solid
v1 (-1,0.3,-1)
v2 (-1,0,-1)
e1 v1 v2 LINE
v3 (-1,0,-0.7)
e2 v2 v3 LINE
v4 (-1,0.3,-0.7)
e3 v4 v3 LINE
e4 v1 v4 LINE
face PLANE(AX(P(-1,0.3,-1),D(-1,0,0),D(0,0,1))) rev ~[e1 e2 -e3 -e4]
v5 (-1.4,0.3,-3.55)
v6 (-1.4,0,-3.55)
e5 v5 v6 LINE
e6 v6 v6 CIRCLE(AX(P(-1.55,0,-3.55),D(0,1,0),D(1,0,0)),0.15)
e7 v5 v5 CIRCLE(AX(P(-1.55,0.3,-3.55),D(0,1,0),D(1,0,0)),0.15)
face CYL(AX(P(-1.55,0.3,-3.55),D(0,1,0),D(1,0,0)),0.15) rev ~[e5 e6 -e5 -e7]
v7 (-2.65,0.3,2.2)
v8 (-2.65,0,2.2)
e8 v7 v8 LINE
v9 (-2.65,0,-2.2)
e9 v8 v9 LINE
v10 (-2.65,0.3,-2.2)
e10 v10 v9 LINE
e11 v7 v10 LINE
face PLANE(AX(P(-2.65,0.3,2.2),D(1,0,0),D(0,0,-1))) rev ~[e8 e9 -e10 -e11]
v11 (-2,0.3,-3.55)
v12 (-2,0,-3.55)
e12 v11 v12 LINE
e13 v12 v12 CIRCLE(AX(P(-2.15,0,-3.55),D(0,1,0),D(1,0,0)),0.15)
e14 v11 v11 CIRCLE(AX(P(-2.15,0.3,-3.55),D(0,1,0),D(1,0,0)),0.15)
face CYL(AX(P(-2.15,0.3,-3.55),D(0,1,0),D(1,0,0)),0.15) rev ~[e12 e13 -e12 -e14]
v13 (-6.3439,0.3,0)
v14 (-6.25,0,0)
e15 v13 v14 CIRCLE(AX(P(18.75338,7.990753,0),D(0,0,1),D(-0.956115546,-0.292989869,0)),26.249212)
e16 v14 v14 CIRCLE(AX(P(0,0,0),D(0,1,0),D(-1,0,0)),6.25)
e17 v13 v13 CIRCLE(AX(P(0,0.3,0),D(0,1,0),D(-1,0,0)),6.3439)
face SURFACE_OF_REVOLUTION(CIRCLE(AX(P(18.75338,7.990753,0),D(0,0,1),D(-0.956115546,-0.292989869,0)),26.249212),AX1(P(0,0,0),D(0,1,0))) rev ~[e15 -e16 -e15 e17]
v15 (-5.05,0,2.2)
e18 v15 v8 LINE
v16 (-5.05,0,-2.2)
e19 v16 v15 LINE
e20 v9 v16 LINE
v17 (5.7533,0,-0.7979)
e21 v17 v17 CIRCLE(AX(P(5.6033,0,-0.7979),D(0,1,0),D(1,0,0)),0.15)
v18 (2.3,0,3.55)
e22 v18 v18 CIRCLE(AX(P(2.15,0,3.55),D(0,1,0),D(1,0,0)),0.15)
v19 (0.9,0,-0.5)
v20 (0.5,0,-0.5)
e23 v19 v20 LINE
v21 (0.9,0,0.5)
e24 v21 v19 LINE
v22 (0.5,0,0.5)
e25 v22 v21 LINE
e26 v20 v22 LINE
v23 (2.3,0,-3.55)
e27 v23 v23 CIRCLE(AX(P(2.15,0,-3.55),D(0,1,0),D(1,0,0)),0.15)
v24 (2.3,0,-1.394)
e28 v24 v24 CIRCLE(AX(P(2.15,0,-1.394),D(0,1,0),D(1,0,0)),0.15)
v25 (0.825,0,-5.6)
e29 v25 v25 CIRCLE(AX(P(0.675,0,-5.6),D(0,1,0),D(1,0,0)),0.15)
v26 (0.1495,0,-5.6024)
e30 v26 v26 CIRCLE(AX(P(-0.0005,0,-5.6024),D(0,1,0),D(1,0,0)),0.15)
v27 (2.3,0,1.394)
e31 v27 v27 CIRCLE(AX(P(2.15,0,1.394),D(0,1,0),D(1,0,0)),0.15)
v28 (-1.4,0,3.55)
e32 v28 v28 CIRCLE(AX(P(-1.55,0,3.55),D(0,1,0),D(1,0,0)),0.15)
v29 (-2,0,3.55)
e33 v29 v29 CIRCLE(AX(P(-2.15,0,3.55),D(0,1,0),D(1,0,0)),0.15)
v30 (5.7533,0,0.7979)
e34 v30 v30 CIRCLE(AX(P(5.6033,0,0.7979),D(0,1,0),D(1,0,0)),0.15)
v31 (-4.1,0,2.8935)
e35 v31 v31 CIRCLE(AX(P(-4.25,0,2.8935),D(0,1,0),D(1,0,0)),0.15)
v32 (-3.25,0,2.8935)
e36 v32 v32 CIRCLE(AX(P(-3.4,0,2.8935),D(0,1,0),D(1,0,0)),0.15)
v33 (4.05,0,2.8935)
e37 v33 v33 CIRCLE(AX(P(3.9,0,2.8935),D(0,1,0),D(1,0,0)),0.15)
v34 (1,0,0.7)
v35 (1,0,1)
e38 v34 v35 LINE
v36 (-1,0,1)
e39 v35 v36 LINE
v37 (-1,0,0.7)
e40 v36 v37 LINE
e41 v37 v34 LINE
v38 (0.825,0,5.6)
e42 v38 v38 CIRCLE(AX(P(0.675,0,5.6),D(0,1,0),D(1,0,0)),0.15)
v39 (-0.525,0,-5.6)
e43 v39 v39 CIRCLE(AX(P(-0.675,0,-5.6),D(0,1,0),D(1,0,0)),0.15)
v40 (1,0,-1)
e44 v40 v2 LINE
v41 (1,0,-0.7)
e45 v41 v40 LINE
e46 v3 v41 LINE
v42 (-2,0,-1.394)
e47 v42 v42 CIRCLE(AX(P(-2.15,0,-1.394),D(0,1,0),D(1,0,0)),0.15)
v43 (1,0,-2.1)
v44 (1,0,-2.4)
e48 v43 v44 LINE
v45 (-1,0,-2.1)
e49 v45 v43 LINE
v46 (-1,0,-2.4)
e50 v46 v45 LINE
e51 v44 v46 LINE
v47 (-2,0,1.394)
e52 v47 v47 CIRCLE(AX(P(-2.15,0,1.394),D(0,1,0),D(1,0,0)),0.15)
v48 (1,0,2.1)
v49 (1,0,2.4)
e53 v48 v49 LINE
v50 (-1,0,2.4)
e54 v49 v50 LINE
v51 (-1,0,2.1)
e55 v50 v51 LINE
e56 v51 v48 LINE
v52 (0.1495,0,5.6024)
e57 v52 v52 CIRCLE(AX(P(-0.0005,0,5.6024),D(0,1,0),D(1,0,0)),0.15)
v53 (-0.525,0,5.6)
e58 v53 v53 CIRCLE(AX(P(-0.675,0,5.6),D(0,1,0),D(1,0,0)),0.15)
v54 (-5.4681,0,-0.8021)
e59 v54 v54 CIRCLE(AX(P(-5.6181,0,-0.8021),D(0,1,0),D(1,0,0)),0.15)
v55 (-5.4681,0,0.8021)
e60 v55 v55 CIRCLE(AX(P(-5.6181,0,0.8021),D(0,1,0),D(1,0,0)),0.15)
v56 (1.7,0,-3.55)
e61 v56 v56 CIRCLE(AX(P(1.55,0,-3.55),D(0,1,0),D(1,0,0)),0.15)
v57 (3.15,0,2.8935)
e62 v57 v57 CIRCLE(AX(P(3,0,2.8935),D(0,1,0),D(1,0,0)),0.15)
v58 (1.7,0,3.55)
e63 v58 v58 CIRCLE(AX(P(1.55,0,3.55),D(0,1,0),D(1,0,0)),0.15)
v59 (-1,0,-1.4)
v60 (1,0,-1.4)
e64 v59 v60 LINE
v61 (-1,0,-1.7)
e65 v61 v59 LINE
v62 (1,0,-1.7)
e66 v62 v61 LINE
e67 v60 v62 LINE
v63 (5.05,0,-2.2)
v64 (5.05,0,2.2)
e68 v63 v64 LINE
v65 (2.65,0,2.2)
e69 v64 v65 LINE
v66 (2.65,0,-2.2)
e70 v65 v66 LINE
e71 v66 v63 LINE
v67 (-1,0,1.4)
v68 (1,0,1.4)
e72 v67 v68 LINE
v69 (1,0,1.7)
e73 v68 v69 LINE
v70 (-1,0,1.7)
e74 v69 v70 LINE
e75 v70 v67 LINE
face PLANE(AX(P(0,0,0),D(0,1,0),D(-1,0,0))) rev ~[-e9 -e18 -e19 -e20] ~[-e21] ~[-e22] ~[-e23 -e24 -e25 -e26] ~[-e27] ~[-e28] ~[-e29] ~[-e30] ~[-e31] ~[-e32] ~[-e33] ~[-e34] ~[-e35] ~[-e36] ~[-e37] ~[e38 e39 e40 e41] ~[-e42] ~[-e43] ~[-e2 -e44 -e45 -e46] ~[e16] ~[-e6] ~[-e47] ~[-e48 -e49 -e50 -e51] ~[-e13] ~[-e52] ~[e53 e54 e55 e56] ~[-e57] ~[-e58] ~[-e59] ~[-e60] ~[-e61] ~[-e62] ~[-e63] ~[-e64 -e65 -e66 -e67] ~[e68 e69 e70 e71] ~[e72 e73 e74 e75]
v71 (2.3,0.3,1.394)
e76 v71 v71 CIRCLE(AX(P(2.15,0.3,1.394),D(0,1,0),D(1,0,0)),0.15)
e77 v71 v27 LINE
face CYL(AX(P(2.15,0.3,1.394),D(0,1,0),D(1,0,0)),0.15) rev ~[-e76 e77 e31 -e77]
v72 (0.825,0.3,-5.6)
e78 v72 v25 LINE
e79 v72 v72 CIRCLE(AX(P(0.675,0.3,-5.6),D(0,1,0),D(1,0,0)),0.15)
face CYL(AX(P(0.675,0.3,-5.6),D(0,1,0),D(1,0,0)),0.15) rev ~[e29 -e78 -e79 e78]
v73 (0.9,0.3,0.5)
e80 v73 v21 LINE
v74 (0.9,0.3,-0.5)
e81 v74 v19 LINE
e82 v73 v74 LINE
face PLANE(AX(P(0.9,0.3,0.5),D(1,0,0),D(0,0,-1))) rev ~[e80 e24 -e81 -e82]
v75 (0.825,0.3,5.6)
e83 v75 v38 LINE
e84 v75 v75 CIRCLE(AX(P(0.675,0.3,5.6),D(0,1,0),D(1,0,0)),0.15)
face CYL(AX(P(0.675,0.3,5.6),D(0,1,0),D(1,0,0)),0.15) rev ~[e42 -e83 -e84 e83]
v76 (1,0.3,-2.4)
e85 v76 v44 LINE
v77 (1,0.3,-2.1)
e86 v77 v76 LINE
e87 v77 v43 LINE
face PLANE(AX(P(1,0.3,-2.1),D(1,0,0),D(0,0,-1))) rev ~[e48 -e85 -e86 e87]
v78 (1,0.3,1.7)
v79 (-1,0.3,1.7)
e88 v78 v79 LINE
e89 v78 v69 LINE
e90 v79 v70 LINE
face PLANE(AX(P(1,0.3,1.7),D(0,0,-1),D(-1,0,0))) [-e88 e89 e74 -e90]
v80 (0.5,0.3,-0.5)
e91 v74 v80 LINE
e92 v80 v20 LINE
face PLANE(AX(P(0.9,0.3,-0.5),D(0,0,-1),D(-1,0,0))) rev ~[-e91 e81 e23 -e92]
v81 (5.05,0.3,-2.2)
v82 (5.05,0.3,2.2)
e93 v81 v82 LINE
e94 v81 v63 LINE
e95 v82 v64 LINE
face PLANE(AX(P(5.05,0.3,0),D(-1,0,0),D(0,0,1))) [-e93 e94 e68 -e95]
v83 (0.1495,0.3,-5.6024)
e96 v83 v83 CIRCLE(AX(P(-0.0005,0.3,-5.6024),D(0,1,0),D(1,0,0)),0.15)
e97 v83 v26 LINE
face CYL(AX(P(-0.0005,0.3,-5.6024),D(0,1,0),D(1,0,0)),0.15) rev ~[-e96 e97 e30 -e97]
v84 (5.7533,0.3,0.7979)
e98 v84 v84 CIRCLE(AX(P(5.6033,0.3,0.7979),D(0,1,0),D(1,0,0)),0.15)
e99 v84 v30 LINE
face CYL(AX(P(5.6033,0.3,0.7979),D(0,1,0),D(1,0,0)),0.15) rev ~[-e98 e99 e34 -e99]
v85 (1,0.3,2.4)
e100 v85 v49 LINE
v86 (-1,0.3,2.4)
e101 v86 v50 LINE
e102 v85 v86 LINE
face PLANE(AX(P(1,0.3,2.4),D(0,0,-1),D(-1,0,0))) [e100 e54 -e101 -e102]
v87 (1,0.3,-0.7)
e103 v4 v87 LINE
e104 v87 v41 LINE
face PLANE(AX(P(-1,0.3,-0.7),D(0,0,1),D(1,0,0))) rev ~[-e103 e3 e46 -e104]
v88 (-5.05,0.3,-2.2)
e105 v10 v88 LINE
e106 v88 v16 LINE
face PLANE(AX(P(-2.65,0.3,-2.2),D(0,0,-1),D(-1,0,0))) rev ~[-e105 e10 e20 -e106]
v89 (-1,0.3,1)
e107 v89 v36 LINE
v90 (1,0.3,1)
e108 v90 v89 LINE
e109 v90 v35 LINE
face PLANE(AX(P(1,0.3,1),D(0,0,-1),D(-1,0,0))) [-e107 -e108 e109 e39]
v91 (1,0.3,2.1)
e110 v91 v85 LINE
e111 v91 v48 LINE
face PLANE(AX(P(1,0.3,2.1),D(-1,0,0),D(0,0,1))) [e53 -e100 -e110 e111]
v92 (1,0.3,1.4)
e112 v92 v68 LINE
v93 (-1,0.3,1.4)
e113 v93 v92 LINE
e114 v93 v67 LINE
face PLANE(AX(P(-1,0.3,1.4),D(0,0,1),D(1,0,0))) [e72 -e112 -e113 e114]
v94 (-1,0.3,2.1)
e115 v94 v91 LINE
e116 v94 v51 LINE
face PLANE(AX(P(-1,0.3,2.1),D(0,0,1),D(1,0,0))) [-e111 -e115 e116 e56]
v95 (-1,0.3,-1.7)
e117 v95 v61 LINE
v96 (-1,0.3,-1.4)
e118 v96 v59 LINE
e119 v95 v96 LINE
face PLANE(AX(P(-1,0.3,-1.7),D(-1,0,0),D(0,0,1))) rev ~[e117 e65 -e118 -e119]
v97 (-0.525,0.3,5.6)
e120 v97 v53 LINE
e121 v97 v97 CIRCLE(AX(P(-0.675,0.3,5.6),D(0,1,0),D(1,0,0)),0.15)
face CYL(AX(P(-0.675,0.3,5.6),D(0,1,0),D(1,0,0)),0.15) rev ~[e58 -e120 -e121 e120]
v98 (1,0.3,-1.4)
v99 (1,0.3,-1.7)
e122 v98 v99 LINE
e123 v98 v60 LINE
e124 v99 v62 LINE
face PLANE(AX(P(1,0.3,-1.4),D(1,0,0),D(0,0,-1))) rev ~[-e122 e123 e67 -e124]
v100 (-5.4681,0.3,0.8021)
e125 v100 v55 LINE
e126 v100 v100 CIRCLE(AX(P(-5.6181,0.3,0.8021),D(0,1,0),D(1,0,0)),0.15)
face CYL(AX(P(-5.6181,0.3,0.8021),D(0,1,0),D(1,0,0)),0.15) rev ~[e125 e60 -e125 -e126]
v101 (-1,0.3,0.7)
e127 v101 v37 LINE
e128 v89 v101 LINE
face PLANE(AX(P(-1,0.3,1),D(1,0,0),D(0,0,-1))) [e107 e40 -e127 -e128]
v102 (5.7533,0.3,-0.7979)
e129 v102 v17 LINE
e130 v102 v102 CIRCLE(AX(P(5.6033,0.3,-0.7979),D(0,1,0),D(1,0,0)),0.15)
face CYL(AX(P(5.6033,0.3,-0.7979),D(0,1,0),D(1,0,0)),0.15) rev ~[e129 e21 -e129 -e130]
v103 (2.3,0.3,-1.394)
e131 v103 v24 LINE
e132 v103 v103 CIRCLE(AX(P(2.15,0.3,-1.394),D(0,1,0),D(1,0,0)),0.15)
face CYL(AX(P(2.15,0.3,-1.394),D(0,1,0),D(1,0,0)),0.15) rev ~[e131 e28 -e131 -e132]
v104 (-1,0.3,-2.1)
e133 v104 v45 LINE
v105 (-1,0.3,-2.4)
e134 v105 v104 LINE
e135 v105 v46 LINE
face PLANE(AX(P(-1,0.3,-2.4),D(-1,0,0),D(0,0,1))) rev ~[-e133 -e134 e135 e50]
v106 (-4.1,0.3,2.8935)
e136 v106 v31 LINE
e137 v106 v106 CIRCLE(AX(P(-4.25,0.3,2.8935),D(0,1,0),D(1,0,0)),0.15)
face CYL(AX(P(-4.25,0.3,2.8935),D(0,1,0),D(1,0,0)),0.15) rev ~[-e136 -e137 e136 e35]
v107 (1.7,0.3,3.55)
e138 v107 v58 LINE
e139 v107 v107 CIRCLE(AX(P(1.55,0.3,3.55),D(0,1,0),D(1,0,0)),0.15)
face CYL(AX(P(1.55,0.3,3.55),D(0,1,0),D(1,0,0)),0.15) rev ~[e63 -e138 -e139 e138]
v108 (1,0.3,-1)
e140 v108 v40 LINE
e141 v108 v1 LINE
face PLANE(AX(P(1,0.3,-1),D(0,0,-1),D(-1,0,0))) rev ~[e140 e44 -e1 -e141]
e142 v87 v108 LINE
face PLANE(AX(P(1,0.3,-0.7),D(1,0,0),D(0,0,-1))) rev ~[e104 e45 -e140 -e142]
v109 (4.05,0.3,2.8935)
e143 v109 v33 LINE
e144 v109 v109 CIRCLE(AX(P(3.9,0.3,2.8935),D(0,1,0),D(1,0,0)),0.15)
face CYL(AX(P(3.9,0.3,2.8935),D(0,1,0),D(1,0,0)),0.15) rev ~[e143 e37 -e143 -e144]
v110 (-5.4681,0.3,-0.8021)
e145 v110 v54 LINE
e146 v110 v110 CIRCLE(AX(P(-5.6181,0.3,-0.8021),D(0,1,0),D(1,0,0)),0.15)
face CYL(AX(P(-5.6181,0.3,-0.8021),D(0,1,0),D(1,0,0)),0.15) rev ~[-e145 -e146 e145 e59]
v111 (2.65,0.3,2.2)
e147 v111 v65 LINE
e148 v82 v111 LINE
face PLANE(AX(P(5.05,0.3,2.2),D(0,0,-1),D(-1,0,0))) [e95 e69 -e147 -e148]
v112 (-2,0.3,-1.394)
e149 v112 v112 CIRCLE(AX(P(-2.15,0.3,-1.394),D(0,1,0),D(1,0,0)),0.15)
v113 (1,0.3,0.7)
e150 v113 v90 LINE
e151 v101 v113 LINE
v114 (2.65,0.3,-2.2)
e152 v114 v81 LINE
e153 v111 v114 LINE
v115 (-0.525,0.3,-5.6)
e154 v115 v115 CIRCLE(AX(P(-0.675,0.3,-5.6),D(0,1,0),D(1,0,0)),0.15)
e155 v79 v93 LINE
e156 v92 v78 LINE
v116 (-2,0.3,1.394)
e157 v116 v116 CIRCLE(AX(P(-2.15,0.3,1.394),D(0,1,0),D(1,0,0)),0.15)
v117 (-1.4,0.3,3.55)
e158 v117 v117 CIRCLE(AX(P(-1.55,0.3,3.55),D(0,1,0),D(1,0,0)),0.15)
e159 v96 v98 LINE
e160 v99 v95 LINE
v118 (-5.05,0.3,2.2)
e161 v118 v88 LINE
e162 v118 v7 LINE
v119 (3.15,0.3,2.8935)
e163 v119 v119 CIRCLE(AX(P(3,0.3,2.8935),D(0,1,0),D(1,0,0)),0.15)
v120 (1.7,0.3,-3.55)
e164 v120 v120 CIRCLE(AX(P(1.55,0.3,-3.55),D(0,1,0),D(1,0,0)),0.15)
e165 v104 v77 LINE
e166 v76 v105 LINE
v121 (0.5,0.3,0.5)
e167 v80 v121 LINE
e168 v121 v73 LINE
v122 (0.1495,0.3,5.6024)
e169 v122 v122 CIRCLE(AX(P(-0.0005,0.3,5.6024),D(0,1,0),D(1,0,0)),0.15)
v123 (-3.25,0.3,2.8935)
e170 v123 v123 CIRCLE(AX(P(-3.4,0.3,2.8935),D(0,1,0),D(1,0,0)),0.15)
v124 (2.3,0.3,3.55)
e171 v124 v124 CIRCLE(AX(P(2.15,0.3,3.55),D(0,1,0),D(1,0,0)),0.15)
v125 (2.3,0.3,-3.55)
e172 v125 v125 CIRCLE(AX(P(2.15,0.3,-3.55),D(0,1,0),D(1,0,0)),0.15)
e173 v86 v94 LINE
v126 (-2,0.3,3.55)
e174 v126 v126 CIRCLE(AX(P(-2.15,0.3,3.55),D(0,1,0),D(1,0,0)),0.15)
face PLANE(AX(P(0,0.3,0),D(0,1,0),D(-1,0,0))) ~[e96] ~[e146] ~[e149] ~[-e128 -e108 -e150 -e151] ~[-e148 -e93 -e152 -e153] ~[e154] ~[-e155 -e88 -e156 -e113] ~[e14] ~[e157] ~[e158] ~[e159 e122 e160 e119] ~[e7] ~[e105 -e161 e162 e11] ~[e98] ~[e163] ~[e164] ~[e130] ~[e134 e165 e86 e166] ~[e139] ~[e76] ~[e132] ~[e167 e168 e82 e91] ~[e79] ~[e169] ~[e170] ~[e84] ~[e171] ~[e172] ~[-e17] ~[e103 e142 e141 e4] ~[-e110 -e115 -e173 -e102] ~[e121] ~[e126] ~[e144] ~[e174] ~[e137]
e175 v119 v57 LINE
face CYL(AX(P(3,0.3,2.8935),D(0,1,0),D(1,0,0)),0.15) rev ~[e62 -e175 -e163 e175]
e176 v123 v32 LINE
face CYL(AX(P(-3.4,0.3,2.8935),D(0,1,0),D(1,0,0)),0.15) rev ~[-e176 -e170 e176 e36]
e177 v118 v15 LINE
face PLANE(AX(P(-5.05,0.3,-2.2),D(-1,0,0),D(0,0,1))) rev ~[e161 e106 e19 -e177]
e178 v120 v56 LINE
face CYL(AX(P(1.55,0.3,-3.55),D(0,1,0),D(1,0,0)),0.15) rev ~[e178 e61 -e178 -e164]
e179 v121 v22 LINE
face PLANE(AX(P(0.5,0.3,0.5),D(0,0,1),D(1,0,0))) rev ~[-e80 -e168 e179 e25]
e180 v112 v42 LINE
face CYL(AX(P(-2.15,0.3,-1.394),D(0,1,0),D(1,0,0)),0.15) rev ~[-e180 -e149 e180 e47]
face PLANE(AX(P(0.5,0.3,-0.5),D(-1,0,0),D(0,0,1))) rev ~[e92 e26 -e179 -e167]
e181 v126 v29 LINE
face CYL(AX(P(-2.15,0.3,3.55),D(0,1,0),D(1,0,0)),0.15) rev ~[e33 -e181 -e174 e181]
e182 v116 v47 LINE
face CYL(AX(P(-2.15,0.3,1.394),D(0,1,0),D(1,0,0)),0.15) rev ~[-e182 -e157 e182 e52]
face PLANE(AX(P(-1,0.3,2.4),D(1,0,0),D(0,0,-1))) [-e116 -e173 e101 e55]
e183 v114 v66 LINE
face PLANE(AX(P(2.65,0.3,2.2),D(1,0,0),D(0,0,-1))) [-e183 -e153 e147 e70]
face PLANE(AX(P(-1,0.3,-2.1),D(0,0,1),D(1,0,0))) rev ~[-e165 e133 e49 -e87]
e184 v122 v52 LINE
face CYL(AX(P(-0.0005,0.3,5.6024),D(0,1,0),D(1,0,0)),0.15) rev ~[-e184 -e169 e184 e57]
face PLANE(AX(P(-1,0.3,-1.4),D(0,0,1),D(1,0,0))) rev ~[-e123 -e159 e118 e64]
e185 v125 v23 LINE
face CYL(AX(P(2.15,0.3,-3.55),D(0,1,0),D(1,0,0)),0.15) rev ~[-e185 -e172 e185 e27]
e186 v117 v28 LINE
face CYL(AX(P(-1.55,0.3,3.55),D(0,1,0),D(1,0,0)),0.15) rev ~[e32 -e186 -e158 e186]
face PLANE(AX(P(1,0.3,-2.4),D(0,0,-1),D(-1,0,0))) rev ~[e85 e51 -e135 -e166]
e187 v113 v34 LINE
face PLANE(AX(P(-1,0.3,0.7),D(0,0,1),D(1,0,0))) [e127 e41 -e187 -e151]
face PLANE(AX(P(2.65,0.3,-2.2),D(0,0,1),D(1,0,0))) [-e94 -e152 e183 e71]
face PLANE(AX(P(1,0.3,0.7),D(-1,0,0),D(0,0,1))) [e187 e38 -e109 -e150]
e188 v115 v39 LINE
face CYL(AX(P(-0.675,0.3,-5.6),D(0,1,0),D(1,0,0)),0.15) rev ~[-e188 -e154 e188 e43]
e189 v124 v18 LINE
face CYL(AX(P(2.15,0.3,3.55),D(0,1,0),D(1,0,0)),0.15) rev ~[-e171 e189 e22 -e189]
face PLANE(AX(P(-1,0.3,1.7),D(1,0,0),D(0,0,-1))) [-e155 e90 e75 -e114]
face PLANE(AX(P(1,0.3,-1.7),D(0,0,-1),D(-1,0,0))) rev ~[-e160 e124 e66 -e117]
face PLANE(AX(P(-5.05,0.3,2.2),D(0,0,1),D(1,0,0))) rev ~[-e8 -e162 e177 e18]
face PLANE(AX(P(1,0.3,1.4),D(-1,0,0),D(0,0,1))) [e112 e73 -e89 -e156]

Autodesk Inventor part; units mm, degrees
ref_plane "YZ Plane" through (0, 0, 0) normal (1, 0, 0) x (0, 1, 0)
ref_plane "XZ Plane" through (0, 0, 0) normal (0, 1, 0) x (-1, 0, 0)
ref_plane "XY Plane" through (0, 0, 0) normal (0, 0, 1) x (1, 0, 0)
sketch "Boceto1" plane through (0, 0, 0) normal (0, 0, 1) x (1, 0, 0)
  arc A0 (-6.3439, 0.3) -> (-6.25, 0) centre (18.1956, 7.818) ccw
  line L0 (-6.25, 0) -> (0, 0)
  line L1 (0, 0) -> (0, 0.3)
  line L2 (0, 0.3) -> (-6.3439, 0.3)
revolve "Revolución1" add sketch "Boceto1" angle 360 about axis through (0, 0, 0) along (0, 1, 0)
sketch "Boceto2" plane through (0, 0.3, 0) normal (0, 1, 0) x (1, 0, 0)
  circle A0 centre (-0.0005, 5.6024) radius 0.15
  circle A1 centre (-5.6181, 0.8021) radius 0.15
  circle A2 centre (5.6033, 0.7979) radius 0.15
  circle A3 centre (0, 0) radius 6.25 projected
  circle A4 centre (-0.0005, -5.6024) radius 0.15
  circle A5 centre (-5.6181, -0.8021) radius 0.15
  circle A6 centre (5.6033, -0.7979) radius 0.15
  point P0 (-0.8, 0.7979)
extrude "Extrusión1" cut sketch "Boceto2" against normal blind 10 contours A0 | A1 | A2 | A4 | A5 | A6
sketch "Boceto5" plane through (0, 0.3, 0) normal (0, 1, 0) x (1, 0, 0)
  circle A0 centre (0, 0) radius 6.25
  line L0 (-5.05, 0) -> (-5.05, -2.2)
  line L1 (-5.05, -2.2) -> (-2.65, -2.2)
  line L2 (-2.65, -2.2) -> (-2.65, 2.2)
  line L3 (-2.65, 2.2) -> (-5.05, 2.2)
  line L4 (-5.05, 2.2) -> (-5.05, 0)
  line L5 (5.05, 0) -> (5.05, -2.2)
  line L6 (5.05, -2.2) -> (2.65, -2.2)
  line L7 (2.65, -2.2) -> (2.65, 2.2)
  line L8 (2.65, 2.2) -> (5.05, 2.2)
  line L9 (5.05, 2.2) -> (5.05, 0)
  circle A1 centre (-5.618, 0.796) radius 0.15
  circle A2 centre (-5.618, -0.796) radius 0.15
  circle A3 centre (5.618, 0.796) radius 0.15
  circle A4 centre (5.618, -0.796) radius 0.15
  circle A5 centre (-2.15, -1.394) radius 0.15
  circle A6 centre (-2.15, 1.394) radius 0.15
  circle A7 centre (2.15, -1.394) radius 0.15
  circle A8 centre (2.15, 1.394) radius 0.15
  circle A9 centre (0, -5.6) radius 0.15
  circle A10 centre (0, 5.6) radius 0.15
  line L10 (1, -0.7) -> (1, -1)
  line L11 (1, -1) -> (-1, -1)
  line L12 (-1, -1) -> (-1, -0.7)
  line L13 (-1, -0.7) -> (1, -0.7)
  line L14 (1, -1.4) -> (1, -1.7)
  line L15 (1, -1.7) -> (-1, -1.7)
  line L16 (-1, -1.7) -> (-1, -1.4)
  line L17 (-1, -1.4) -> (1, -1.4)
  line L18 (1, -2.1) -> (1, -2.4)
  line L19 (1, -2.4) -> (-1, -2.4)
  line L20 (-1, -2.4) -> (-1, -2.1)
  line L21 (-1, -2.1) -> (1, -2.1)
  line L22 (-1, 1) -> (-1, 0.7)
  line L23 (-1, 0.7) -> (1, 0.7)
  line L24 (1, 0.7) -> (1, 1)
  line L25 (1, 1) -> (-1, 1)
  line L26 (-1, 1.7) -> (-1, 1.4)
  line L27 (-1, 1.4) -> (1, 1.4)
  line L28 (1, 1.4) -> (1, 1.7)
  line L29 (1, 1.7) -> (-1, 1.7)
  line L30 (-1, 2.4) -> (-1, 2.1)
  line L31 (-1, 2.1) -> (1, 2.1)
  line L32 (1, 2.1) -> (1, 2.4)
  line L33 (1, 2.4) -> (-1, 2.4)
  circle A11 centre (-2.15, 3.55) radius 0.15
  circle A12 centre (-1.55, 3.55) radius 0.15
  circle A13 centre (2.15, 3.55) radius 0.15
  circle A14 centre (1.55, 3.55) radius 0.15
  circle A15 centre (-2.15, -3.55) radius 0.15
  circle A16 centre (-1.55, -3.55) radius 0.15
  circle A17 centre (2.15, -3.55) radius 0.15
  circle A18 centre (1.55, -3.55) radius 0.15
  line L34 (0.6, 0.4) -> (0.6, -0.4)
  line L35 (0.6, -0.4) -> (0.7, -0.4)
  line L36 (0.7, -0.4) -> (0.8, -0.3)
  line L37 (0.8, -0.3) -> (0.8, 0.3)
  line L38 (0.8, 0.3) -> (0.7, 0.4)
  line L39 (0.7, 0.4) -> (0.6, 0.4)
  line L40 (0.5, 0) -> (0.5, -0.5)
  line L41 (0.5, -0.5) -> (0.9, -0.5)
  line L42 (0.9, -0.5) -> (0.9, 0.5)
  line L43 (0.9, 0.5) -> (0.5, 0.5)
  line L44 (0.5, 0.5) -> (0.5, 0)
extrude "Extrusión4" cut sketch "Boceto5" against normal blind 10 contours L4 L3 L2 L1 L0 | L5 L6 L7 L8 L9 | A5 | A6 | A7 | A8 | L10 L11 L12 L13 | L14 L15 L16 L17 | L18 L19 L20 L21 | L25 L24 L23 L22 | L29 L28 L27 L26 | L33 L32 L31 L30 | A11 | A12 | A13 | A14 | A15 | A16 | A17 | A18 | L39 L38 L37 L36 L35 L34 | L44 L43 L42 L41 L40
sketch "Boceto8" plane through (0, 0.3, 0) normal (0, 1, 0) x (1, 0, 0)
  circle A0 centre (0, 0) radius 6.25
  line L0 (-5.05, 0) -> (-5.05, -2.2)
  line L1 (-5.05, -2.2) -> (-2.65, -2.2)
  line L2 (-2.65, -2.2) -> (-2.65, 2.2)
  line L3 (-2.65, 2.2) -> (-5.05, 2.2)
  line L4 (-5.05, 2.2) -> (-5.05, 0)
  line L5 (5.05, 0) -> (5.05, -2.2)
  line L6 (5.05, -2.2) -> (2.65, -2.2)
  line L7 (2.65, -2.2) -> (2.65, 2.2)
  line L8 (2.65, 2.2) -> (5.05, 2.2)
  line L9 (5.05, 2.2) -> (5.05, 0)
  circle A1 centre (-5.618, 0.796) radius 0.15
  circle A2 centre (-5.618, -0.796) radius 0.15
  circle A3 centre (5.618, 0.796) radius 0.15
  circle A4 centre (5.618, -0.796) radius 0.15
  circle A5 centre (-2.15, -1.394) radius 0.15
  circle A6 centre (-2.15, 1.394) radius 0.15
  circle A7 centre (2.15, -1.394) radius 0.15
  circle A8 centre (2.15, 1.394) radius 0.15
  circle A9 centre (0, -5.6) radius 0.15
  circle A10 centre (0, 5.6) radius 0.15
  line L10 (1, -0.7) -> (1, -1)
  line L11 (1, -1) -> (-1, -1)
  line L12 (-1, -1) -> (-1, -0.7)
  line L13 (-1, -0.7) -> (1, -0.7)
  line L14 (1, -1.4) -> (1, -1.7)
  line L15 (1, -1.7) -> (-1, -1.7)
  line L16 (-1, -1.7) -> (-1, -1.4)
  line L17 (-1, -1.4) -> (1, -1.4)
  line L18 (1, -2.1) -> (1, -2.4)
  line L19 (1, -2.4) -> (-1, -2.4)
  line L20 (-1, -2.4) -> (-1, -2.1)
  line L21 (-1, -2.1) -> (1, -2.1)
  line L22 (-1, 1) -> (-1, 0.7)
  line L23 (-1, 0.7) -> (1, 0.7)
  line L24 (1, 0.7) -> (1, 1)
  line L25 (1, 1) -> (-1, 1)
  line L26 (-1, 1.7) -> (-1, 1.4)
  line L27 (-1, 1.4) -> (1, 1.4)
  line L28 (1, 1.4) -> (1, 1.7)
  line L29 (1, 1.7) -> (-1, 1.7)
  line L30 (-1, 2.4) -> (-1, 2.1)
  line L31 (-1, 2.1) -> (1, 2.1)
  line L32 (1, 2.1) -> (1, 2.4)
  line L33 (1, 2.4) -> (-1, 2.4)
  circle A11 centre (-2.15, 3.55) radius 0.15
  circle A12 centre (-1.55, 3.55) radius 0.15
  circle A13 centre (2.15, 3.55) radius 0.15
  circle A14 centre (1.55, 3.55) radius 0.15
  circle A15 centre (-2.15, -3.55) radius 0.15
  circle A16 centre (-1.55, -3.55) radius 0.15
  circle A17 centre (2.15, -3.55) radius 0.15
  circle A18 centre (1.55, -3.55) radius 0.15
  line L34 (0.6, 0.4) -> (0.6, -0.4)
  line L35 (0.6, -0.4) -> (0.7, -0.4)
  line L36 (0.7, -0.4) -> (0.8, -0.3)
  line L37 (0.8, -0.3) -> (0.8, 0.3)
  line L38 (0.8, 0.3) -> (0.7, 0.4)
  line L39 (0.7, 0.4) -> (0.6, 0.4)
  line L40 (0.5, 0) -> (0.5, -0.5)
  line L41 (0.5, -0.5) -> (0.9, -0.5)
  line L42 (0.9, -0.5) -> (0.9, 0.5)
  line L43 (0.9, 0.5) -> (0.5, 0.5)
  line L44 (0.5, 0.5) -> (0.5, 0)
  circle A19 centre (3, -2.8935) radius 0.15
  circle A20 centre (3.9, -2.8935) radius 0.15
  circle A21 centre (-3.4, -2.8935) radius 0.15
  circle A22 centre (-4.25, -2.8935) radius 0.15
  circle A23 centre (-0.675, -5.6) radius 0.15
  circle A24 centre (0.675, -5.6) radius 0.15
  circle A25 centre (-0.675, 5.6) radius 0.15
  circle A26 centre (0.675, 5.6) radius 0.15
extrude "Extrusión7" cut sketch "Boceto8" against normal blind 10 contours A19 | A20 | A21 | A22 | A23 | A24 | A25 | A26
properties part number "learnbotDown"
